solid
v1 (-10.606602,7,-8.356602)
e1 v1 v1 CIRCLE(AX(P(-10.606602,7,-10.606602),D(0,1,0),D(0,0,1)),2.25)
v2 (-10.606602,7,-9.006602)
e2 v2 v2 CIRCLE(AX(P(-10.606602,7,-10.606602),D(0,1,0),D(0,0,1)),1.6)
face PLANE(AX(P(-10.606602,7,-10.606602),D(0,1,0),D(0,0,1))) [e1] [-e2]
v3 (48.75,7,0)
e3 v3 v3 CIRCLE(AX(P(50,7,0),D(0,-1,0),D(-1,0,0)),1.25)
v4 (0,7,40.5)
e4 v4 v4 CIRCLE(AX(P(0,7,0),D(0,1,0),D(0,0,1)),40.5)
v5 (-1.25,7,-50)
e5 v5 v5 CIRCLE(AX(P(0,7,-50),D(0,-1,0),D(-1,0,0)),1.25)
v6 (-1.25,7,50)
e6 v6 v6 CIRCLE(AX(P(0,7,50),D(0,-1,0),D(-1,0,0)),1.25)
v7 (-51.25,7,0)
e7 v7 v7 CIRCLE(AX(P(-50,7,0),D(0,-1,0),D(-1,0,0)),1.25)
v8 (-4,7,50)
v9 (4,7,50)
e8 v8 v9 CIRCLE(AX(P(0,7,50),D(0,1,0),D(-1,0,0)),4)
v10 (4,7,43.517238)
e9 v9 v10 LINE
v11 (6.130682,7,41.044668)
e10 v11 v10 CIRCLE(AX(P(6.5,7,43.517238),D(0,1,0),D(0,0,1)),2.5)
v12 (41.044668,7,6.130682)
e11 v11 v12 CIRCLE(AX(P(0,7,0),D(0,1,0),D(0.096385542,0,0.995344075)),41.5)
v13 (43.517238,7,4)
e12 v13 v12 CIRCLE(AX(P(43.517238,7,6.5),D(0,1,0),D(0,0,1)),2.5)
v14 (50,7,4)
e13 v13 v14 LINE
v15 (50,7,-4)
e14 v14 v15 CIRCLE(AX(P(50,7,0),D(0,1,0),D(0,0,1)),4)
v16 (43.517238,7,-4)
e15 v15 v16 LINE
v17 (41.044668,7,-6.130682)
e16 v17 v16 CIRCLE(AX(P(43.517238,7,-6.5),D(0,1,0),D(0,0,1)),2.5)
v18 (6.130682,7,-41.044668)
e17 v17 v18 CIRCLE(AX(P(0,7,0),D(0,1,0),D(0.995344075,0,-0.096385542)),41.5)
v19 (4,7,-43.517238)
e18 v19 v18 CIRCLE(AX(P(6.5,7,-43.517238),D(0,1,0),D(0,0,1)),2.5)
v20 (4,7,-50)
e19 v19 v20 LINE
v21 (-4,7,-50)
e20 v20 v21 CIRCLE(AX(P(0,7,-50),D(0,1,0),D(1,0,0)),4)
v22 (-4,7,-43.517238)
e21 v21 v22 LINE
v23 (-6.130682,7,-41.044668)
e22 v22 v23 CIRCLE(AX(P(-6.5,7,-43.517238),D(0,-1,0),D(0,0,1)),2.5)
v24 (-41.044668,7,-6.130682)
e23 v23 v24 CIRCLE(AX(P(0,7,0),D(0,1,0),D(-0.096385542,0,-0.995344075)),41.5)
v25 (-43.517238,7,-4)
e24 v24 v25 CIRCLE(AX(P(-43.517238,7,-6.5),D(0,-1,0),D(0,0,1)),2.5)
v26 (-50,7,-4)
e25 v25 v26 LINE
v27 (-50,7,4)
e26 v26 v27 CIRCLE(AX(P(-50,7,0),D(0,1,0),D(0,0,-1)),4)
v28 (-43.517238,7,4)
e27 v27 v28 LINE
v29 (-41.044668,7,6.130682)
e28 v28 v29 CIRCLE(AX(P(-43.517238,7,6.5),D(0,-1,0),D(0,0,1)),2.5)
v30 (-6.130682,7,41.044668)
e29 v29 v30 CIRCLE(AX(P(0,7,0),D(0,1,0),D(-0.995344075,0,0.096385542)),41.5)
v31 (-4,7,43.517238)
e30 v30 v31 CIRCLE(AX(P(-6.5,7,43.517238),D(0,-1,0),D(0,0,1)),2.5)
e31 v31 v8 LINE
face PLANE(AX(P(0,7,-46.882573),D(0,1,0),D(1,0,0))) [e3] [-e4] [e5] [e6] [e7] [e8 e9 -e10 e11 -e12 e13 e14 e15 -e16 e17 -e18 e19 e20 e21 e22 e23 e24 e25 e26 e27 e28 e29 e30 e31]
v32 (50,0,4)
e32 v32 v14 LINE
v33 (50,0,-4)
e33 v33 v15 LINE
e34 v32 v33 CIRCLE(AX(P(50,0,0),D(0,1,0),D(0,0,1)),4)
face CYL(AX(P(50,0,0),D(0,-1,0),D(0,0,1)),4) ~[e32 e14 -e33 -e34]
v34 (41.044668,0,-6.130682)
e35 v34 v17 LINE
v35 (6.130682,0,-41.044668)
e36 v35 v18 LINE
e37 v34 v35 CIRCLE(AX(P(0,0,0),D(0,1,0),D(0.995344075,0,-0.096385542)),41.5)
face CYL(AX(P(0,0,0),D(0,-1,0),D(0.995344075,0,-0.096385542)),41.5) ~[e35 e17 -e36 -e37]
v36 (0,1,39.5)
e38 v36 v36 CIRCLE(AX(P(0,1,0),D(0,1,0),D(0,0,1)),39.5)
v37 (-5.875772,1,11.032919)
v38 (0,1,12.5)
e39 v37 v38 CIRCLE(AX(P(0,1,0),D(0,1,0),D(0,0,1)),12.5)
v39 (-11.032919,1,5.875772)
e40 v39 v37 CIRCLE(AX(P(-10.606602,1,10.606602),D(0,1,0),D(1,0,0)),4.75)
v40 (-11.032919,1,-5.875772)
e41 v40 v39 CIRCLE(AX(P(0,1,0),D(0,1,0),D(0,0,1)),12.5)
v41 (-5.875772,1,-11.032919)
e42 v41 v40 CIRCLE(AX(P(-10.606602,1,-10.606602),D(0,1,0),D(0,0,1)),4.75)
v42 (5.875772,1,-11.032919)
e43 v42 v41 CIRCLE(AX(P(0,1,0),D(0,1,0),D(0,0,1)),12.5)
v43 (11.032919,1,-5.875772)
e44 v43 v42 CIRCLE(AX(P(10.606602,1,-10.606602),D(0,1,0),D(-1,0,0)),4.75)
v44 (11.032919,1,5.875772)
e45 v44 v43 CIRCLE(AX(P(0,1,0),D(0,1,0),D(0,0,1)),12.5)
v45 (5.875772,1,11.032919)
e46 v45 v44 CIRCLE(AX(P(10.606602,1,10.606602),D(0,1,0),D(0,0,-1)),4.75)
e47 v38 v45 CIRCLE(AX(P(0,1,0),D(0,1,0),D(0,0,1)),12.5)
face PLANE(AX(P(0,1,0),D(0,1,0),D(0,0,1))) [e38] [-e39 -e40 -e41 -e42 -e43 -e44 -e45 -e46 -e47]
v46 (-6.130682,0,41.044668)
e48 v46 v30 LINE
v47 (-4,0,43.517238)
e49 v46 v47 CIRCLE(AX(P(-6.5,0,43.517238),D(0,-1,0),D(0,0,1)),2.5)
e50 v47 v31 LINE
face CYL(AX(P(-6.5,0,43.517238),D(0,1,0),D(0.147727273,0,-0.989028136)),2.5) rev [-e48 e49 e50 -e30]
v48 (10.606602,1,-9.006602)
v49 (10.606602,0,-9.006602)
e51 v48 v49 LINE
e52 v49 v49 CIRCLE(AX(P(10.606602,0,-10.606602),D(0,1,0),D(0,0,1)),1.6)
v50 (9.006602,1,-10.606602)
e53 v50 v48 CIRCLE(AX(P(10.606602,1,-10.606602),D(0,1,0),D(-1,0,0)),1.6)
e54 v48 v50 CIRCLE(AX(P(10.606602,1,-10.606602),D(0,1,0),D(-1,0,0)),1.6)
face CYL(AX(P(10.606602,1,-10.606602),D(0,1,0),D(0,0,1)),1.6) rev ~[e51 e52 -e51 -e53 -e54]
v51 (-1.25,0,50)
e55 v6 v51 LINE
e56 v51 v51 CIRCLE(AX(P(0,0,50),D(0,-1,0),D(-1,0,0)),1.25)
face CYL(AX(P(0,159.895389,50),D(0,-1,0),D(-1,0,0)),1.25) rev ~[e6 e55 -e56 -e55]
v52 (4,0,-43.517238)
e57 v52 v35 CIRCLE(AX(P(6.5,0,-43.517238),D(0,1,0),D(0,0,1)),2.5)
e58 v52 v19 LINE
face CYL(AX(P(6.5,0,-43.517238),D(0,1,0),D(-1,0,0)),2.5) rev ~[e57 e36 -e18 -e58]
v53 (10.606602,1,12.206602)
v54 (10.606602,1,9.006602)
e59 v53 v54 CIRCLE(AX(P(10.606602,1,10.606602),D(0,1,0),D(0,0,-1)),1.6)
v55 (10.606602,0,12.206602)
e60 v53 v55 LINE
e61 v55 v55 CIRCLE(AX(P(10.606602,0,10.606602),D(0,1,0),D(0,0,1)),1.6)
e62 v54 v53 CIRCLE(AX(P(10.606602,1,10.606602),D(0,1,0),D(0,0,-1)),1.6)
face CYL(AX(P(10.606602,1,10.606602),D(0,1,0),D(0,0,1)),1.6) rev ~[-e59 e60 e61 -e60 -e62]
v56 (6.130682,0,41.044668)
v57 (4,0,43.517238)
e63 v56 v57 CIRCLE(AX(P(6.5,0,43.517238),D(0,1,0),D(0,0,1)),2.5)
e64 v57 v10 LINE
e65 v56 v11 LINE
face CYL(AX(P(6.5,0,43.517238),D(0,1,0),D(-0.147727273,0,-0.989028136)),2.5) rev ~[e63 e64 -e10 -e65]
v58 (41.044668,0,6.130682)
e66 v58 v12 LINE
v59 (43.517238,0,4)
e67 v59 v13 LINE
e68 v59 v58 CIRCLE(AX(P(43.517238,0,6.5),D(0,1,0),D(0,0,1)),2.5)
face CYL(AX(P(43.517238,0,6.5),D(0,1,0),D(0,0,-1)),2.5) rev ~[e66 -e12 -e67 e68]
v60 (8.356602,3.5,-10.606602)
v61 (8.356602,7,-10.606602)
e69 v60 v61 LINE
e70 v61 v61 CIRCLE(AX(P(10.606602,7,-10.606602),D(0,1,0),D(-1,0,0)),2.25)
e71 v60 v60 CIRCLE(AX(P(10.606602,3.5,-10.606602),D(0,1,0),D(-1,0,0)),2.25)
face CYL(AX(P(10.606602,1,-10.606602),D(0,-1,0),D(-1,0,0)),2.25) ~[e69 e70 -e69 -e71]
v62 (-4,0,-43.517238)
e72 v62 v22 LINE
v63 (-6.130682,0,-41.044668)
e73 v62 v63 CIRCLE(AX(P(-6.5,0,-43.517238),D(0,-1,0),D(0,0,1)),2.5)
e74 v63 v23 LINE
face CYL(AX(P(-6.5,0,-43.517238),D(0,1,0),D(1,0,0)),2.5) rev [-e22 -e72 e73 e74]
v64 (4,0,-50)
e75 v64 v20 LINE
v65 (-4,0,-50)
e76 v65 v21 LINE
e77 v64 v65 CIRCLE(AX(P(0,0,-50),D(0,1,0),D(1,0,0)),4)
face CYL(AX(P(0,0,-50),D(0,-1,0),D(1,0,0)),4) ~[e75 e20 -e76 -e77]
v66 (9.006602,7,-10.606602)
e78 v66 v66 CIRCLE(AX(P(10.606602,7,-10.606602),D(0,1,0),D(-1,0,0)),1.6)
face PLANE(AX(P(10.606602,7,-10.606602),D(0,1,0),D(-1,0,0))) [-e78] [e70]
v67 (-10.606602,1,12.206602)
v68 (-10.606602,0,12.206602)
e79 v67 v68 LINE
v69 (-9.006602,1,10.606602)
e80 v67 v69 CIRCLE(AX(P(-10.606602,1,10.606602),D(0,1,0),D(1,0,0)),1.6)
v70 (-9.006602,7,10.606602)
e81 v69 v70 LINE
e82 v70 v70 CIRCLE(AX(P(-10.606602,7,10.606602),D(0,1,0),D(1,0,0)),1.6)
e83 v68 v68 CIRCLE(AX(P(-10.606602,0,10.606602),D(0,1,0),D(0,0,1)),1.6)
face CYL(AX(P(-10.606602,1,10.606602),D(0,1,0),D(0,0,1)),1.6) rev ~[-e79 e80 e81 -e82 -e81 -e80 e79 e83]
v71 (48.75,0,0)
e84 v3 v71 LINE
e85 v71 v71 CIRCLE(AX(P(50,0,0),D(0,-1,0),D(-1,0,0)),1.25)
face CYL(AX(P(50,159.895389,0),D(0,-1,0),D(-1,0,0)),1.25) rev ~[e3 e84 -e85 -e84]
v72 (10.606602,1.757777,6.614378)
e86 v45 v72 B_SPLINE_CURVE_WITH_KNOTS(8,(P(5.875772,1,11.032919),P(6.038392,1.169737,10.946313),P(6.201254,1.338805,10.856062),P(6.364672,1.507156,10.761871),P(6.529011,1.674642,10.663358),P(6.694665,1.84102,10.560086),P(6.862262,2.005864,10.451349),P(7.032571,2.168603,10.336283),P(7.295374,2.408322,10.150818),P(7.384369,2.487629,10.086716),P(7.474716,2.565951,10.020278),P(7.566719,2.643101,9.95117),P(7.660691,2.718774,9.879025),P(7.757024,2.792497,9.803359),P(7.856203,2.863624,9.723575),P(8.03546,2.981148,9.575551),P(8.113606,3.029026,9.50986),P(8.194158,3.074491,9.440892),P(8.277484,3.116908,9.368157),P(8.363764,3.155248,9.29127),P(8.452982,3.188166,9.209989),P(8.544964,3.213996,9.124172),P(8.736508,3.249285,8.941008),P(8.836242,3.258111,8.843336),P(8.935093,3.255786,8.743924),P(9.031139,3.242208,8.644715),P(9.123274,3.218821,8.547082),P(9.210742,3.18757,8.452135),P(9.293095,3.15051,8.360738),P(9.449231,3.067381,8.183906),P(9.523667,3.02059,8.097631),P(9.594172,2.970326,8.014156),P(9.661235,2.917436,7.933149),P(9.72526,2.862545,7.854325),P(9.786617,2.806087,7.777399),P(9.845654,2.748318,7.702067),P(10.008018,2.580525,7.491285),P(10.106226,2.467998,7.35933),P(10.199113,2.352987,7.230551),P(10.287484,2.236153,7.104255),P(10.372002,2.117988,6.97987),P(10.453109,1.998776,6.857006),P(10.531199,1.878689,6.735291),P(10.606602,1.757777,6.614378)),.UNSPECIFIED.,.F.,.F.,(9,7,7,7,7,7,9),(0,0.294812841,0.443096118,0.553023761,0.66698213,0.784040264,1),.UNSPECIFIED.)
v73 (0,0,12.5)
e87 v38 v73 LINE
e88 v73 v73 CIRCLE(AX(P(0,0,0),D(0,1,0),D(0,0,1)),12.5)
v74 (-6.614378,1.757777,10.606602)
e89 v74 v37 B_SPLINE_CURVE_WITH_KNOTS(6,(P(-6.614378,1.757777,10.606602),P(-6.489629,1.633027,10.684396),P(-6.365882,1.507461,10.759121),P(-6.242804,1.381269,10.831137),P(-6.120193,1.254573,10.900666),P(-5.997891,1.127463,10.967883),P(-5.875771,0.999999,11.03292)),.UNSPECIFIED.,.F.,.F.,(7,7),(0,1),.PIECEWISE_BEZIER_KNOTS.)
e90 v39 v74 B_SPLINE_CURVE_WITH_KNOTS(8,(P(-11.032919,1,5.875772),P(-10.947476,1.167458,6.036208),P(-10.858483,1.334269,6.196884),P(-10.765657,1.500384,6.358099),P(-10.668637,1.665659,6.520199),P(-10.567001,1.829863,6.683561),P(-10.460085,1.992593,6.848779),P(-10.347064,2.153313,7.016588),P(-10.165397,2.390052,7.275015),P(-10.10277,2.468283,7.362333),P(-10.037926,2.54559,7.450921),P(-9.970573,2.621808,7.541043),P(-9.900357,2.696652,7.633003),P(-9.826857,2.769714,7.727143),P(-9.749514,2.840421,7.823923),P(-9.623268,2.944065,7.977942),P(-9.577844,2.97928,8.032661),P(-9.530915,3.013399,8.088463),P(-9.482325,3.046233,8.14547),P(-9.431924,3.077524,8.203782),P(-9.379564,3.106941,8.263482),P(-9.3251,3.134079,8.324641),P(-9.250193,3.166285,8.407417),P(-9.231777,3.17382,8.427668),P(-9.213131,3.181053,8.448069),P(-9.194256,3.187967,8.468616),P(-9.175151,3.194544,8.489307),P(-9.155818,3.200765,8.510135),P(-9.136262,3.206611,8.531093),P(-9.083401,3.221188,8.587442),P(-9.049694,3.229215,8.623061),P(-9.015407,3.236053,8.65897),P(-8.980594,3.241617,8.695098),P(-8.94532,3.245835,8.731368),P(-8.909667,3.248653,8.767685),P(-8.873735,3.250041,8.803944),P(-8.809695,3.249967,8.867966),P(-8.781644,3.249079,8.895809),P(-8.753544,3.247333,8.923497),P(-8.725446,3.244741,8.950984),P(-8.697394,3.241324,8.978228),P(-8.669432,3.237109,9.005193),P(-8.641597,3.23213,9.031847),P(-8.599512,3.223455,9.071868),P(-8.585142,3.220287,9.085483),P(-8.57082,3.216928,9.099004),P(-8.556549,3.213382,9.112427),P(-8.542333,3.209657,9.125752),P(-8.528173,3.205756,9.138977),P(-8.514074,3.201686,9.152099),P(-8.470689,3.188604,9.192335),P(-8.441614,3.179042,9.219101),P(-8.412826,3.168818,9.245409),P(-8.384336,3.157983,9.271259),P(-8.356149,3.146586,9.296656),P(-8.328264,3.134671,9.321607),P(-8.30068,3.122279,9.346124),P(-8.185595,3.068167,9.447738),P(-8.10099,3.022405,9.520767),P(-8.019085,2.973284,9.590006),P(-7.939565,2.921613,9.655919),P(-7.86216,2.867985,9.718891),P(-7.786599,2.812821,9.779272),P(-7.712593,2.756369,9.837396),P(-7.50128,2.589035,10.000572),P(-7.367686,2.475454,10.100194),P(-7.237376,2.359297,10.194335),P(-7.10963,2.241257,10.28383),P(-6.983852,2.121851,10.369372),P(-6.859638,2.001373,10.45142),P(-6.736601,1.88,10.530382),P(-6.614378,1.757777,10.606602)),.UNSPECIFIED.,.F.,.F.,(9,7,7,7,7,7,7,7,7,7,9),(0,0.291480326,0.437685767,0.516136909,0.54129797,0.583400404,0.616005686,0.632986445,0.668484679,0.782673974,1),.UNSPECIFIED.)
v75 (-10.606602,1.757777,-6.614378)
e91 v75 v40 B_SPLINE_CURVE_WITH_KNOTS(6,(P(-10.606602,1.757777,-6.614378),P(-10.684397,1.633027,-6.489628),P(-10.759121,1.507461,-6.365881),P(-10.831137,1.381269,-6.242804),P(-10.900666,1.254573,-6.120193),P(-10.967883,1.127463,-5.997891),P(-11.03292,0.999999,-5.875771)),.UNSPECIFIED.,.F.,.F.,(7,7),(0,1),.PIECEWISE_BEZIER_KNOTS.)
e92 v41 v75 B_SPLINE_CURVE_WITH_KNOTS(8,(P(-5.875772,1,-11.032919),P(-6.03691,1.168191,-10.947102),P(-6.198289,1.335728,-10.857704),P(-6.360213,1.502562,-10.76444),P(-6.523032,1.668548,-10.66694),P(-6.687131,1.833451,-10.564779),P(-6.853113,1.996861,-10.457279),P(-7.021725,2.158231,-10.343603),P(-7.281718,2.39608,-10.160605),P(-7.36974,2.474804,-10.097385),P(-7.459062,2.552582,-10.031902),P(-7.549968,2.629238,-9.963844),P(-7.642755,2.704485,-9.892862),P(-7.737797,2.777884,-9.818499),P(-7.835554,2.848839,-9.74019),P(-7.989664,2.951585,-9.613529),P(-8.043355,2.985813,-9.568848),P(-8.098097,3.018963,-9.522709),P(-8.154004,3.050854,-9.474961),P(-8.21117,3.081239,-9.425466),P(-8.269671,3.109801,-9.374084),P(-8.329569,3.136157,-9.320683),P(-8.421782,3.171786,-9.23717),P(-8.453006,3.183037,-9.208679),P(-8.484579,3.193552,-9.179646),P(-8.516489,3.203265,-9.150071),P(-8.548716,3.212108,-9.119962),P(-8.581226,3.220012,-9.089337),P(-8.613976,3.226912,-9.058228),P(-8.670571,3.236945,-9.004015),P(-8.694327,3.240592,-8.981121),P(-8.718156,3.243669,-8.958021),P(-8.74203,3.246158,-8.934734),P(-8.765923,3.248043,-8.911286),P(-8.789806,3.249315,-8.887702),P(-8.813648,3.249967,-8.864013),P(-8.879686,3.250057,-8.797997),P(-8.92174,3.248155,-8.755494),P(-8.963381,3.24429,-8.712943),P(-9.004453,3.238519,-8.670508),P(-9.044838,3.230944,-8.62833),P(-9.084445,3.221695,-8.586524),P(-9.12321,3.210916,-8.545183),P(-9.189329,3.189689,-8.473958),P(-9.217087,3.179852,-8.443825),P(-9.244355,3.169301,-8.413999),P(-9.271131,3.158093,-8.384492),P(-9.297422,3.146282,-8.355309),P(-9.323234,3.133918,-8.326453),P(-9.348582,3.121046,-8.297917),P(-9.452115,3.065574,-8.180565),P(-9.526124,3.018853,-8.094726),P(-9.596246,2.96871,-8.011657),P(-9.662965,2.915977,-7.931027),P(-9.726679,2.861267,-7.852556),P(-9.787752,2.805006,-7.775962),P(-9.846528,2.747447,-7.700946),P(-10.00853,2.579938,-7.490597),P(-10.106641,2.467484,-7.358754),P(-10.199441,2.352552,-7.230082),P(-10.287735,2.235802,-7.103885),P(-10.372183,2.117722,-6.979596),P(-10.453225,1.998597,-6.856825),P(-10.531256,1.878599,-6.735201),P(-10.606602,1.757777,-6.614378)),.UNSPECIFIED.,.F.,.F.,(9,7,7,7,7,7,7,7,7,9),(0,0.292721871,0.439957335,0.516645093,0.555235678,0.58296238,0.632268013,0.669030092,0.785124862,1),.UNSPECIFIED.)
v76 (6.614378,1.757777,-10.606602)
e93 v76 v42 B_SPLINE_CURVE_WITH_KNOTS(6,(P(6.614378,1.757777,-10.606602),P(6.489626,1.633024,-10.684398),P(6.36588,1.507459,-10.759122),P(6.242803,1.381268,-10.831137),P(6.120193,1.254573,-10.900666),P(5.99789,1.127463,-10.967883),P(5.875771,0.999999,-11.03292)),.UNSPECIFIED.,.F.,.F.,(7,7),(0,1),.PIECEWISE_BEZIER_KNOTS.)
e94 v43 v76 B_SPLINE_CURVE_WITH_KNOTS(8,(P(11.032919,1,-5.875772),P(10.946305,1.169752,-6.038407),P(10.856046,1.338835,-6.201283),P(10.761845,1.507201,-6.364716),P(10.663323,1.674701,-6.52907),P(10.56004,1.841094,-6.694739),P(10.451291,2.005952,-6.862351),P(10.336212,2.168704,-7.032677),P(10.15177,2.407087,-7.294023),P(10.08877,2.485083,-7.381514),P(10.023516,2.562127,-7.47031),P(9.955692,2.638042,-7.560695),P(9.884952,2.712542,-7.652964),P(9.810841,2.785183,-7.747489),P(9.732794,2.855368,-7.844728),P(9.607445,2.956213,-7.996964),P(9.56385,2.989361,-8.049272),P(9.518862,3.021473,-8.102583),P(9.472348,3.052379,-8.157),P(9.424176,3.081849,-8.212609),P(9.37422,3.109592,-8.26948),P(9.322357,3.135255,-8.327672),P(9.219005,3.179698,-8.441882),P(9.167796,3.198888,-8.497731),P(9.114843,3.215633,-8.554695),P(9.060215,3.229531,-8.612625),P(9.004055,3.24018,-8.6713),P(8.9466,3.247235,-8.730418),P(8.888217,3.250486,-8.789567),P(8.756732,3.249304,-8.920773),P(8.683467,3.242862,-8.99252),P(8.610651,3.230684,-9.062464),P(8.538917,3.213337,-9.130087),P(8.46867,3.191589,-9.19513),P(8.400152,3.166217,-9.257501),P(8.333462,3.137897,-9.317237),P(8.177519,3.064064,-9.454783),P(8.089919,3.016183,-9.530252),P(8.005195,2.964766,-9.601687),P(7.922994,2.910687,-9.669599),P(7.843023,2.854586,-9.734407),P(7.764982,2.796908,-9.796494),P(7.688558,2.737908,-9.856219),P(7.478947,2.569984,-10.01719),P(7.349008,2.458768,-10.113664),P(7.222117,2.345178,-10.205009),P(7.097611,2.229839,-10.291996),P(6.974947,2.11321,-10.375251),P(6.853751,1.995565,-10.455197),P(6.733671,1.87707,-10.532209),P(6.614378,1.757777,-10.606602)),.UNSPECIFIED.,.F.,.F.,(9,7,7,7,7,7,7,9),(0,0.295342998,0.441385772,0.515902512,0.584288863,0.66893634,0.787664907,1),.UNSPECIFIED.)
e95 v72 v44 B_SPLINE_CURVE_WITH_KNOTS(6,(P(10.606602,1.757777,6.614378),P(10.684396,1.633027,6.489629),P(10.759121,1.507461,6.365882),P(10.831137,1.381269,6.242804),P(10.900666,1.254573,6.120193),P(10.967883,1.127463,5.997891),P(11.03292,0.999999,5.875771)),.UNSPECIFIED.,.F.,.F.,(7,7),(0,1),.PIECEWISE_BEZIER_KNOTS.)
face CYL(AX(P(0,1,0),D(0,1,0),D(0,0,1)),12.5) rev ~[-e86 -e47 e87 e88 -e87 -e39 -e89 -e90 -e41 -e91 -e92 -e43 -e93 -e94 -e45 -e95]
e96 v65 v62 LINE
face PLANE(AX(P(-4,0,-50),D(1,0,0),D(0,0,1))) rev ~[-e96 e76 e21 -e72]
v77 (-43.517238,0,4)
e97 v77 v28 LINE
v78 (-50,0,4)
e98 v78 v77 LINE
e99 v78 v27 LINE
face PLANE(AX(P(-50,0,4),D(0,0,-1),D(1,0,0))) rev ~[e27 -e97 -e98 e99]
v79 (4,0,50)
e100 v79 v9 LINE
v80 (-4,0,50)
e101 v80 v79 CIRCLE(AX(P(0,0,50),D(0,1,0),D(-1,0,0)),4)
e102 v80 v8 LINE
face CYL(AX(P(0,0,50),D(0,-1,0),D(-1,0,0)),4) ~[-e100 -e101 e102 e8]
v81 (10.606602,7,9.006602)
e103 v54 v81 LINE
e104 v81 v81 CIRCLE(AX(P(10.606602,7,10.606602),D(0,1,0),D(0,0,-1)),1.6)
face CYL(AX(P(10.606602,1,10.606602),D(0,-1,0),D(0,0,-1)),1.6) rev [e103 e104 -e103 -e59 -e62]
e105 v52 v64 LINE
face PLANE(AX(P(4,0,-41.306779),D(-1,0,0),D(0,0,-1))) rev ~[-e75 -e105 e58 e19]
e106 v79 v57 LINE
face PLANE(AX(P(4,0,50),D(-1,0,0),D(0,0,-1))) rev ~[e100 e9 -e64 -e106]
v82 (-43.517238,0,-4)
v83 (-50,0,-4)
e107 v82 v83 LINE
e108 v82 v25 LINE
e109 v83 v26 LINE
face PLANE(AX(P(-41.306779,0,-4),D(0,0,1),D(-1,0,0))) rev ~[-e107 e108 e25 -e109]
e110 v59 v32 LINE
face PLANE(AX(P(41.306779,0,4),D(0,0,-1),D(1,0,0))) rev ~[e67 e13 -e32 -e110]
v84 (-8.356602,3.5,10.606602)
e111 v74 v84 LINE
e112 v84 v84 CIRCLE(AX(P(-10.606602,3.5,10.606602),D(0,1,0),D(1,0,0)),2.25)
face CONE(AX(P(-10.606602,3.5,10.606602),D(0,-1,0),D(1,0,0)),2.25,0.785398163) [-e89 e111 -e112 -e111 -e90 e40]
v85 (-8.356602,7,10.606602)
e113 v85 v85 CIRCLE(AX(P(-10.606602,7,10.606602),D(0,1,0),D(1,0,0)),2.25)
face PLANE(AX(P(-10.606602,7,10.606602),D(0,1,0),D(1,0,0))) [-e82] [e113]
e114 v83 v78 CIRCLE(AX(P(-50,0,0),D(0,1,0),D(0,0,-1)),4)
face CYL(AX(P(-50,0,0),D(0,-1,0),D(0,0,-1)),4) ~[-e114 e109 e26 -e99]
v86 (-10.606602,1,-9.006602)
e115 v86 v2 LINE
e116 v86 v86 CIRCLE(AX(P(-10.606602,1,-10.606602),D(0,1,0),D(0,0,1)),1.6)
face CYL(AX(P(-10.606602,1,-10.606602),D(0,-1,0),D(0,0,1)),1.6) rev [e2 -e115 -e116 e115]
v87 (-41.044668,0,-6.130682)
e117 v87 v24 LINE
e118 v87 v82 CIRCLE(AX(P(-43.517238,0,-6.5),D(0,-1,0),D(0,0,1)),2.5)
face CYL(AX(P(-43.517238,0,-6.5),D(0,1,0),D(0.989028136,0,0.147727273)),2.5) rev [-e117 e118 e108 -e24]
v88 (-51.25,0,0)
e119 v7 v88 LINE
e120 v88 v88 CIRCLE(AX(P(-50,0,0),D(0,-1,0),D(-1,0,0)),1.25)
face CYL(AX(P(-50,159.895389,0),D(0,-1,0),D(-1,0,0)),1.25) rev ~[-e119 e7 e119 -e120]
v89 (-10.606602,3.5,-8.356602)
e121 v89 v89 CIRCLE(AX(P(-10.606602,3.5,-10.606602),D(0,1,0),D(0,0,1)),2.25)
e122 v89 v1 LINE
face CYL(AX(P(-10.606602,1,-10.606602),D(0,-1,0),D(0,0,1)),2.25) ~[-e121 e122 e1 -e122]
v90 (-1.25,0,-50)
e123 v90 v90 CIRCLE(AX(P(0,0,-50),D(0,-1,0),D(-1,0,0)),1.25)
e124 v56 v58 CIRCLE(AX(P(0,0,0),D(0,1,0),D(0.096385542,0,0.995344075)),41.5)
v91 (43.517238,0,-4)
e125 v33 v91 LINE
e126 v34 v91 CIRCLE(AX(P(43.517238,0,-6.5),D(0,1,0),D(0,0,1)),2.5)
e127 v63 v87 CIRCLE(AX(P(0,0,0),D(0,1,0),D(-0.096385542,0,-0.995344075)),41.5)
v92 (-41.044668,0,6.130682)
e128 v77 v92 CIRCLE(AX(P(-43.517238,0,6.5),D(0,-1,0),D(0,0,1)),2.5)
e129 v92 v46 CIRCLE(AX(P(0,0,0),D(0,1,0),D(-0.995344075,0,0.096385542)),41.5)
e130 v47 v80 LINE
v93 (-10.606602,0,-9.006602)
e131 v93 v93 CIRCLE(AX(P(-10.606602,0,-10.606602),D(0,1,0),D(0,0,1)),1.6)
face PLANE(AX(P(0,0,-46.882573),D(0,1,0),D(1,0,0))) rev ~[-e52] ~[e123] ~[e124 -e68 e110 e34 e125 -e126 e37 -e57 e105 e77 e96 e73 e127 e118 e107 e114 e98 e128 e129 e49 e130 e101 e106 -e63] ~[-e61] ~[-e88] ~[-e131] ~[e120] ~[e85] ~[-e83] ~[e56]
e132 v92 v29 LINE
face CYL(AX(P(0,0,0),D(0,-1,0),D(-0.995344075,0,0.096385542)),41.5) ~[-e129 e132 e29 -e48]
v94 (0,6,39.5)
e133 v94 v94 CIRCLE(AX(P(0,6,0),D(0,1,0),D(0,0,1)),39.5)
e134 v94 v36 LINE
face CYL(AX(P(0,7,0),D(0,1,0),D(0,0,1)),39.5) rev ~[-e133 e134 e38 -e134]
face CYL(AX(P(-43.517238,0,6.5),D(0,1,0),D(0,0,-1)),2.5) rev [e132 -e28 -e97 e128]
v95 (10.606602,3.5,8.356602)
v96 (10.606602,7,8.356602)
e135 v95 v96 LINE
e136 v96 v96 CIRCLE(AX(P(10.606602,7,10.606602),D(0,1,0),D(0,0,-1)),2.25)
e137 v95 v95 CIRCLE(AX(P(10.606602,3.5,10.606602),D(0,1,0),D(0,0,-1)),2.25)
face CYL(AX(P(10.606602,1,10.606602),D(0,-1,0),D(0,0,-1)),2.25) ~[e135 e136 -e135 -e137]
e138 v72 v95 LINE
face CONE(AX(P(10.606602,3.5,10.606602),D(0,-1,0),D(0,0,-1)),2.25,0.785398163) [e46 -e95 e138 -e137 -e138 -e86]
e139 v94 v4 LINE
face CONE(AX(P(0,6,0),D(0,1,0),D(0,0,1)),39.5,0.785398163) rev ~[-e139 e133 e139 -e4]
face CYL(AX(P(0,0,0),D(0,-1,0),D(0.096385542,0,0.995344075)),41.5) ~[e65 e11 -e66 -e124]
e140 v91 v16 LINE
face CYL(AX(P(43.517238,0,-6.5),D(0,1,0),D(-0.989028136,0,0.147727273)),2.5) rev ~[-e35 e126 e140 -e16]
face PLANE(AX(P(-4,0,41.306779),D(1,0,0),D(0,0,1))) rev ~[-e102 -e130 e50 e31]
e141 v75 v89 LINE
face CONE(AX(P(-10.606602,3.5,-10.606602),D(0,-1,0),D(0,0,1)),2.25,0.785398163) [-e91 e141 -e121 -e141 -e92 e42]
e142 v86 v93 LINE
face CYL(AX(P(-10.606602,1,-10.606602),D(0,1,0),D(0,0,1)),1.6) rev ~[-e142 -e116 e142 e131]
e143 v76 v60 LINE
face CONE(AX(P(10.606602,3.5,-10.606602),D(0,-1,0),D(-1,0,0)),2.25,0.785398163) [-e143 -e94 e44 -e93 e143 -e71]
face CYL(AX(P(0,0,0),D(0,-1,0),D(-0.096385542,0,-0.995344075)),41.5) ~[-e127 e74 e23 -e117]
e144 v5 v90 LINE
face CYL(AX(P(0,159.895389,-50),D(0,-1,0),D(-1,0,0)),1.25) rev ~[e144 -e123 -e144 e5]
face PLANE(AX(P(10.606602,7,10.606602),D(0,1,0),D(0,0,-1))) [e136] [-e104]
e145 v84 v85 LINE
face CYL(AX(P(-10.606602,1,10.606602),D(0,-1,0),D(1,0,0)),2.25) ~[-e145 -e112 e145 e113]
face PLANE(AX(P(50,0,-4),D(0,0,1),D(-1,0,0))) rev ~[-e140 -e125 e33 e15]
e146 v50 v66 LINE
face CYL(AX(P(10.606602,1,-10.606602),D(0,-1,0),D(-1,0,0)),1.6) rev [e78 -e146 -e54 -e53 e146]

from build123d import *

# Parameters (mm, degrees)
SKETCH1_W                    = 8
SKETCH1_H                    = 8
BOSS_EXTRUDE1_DEPTH          = 7
SKETCH3_R                    = 39.5
CUT_EXTRUDE1_DEPTH           = 6
SKETCH5_R                    = 2.25
SKETCH5_R_2                  = 1.6
BOSS_EXTRUDE2_DEPTH          = 6
CHAMFER1_SIZE                = 2.5
CIRPATTERN1_COUNT            = 4
CHAMFER1_OF_CIRPATTERN1_SIZE = 2.5
SKETCH4_R                    = 12.5
CUT_EXTRUDE2_DEPTH           = 77.602872009
CUT_EXTRUDE2_DEPTH_BACK      = 77.602872009
M3X0_5_TAPPED_HOLE1_D        = 2.5
CHAMFER2_SIZE                = 1
FILLET1_R                    = 2.5
SKETCH8_R                    = 1.6
CUT_EXTRUDE3_DEPTH           = 77.602872009


with BuildPart() as part:
    # Sketch1 → Boss-Extrude1 (new body)
    with BuildSketch(Plane(origin=(0, 0, 0), x_dir=(1, 0, 0), z_dir=(0, 1, 0))):
        with BuildLine():
            Line((4, 41.306779105), (4, 50))
            ThreePointArc((4, 50), (0, 54), (-4, 50))
            Line((-4, 50), (-4, 41.306779105))
            ThreePointArc((-4, 41.306779105), (0, 41.5), (4, 41.306779105))
        make_face()
        with BuildLine():
            Line((50, 4), (41.306779105, 4))
            ThreePointArc((41.306779105, 4), (41.45166663, 2.002332035), (41.5, 0))
            ThreePointArc((41.5, 0), (41.45166663, -2.002332035), (41.306779105, -4))
            Line((41.306779105, -4), (50, -4))
            ThreePointArc((50, -4), (54, 0), (50, 4))
        make_face()
        with BuildLine():
            ThreePointArc((-41.306779105, -4), (-41.5, 0), (-41.306779105, 4))
            Line((-41.306779105, 4), (-50, 4))
            ThreePointArc((-50, 4), (-54, 0), (-50, -4))
            Line((-50, -4), (-41.306779105, -4))
        make_face()
        with BuildLine():
            Line((4, -50), (4, -41.306779105))
            ThreePointArc((4, -41.306779105), (0, -41.5), (-4, -41.306779105))
            Line((-4, -41.306779105), (-4, -50))
            ThreePointArc((-4, -50), (0, -54), (4, -50))
        make_face()
        with BuildLine():
            Line((41.306779105, -4), (4, -4))
            Line((4, -4), (4, -41.306779105))
            ThreePointArc((4, -41.306779105), (29.344931419, -29.344931419), (41.306779105, -4))
        make_face()
        with BuildLine():
            ThreePointArc((41.306779105, 4), (29.344931419, 29.344931419), (4, 41.306779105))
            Line((4, 41.306779105), (4, 4))
            Line((4, 4), (41.306779105, 4))
        make_face()
        with BuildLine():
            Line((-4, 4), (-4, 41.306779105))
            ThreePointArc((-4, 41.306779105), (-29.344931419, 29.344931419), (-41.306779105, 4))
            Line((-41.306779105, 4), (-4, 4))
        make_face()
        with BuildLine():
            Line((-4, -41.306779105), (-4, -4))
            Line((-4, -4), (-41.306779105, -4))
            ThreePointArc((-41.306779105, -4), (-29.344931419, -29.344931419), (-4, -41.306779105))
        make_face()
        with BuildLine():
            Line((41.306779105, 4), (4, 4))
            Line((4, 4), (4, -4))
            Line((4, -4), (41.306779105, -4))
            ThreePointArc((41.306779105, -4), (41.45166663, -2.002332035), (41.5, 0))
            ThreePointArc((41.5, 0), (41.45166663, 2.002332035), (41.306779105, 4))
        make_face()
        with BuildLine():
            Line((4, 4), (4, 41.306779105))
            ThreePointArc((4, 41.306779105), (0, 41.5), (-4, 41.306779105))
            Line((-4, 41.306779105), (-4, 4))
            Line((-4, 4), (4, 4))
        make_face()
        with BuildLine():
            Line((-4, -4), (-4, 4))
            Line((-4, 4), (-41.306779105, 4))
            ThreePointArc((-41.306779105, 4), (-41.5, 0), (-41.306779105, -4))
            Line((-41.306779105, -4), (-4, -4))
        make_face()
        with BuildLine():
            Line((4, -41.306779105), (4, -4))
            Line((4, -4), (-4, -4))
            Line((-4, -4), (-4, -41.306779105))
            ThreePointArc((-4, -41.306779105), (0, -41.5), (4, -41.306779105))
        make_face()
        Rectangle(SKETCH1_W, SKETCH1_H)
    extrude(amount=BOSS_EXTRUDE1_DEPTH)

    # Sketch3 → Cut-Extrude1 (cut)
    with BuildSketch(Plane(origin=(0, 7, 0), x_dir=(1, 0, 0), z_dir=(0, 1, 0))):
        with Locations(Location((0, 0, 0), (0, 0, 270))):
            Circle(SKETCH3_R)
    extrude(amount=-CUT_EXTRUDE1_DEPTH, mode=Mode.SUBTRACT)

    # Sketch5 → Boss-Extrude2 (add)
    with BuildSketch(Plane(origin=(0, 1, 0), x_dir=(1, 0, 0), z_dir=(0, 1, 0))):
        with Locations(Location((-10.606601718, 10.606601718, 0), (0, 0, 270))):
            Circle(SKETCH5_R)
        with Locations(Location((-10.606601718, 10.606601718, 0), (0, 0, 270))):
            Circle(SKETCH5_R_2, mode=Mode.SUBTRACT)
    boss_extrude2 = extrude(amount=BOSS_EXTRUDE2_DEPTH)

    # Chamfer1
    chamfer1_edges = [part.edges().sort_by_distance(p)[0] for p in [
        (-10.606601718, 1, -12.856601718),
    ]]
    chamfer(chamfer1_edges, length=CHAMFER1_SIZE)

    # CirPattern1: Boss-Extrude2 ×4 about axis
    cirpattern1_axis = Axis((0, 0, 0), (0, 1, 0))
    for i in range(1, CIRPATTERN1_COUNT):
        add(boss_extrude2.rotate(cirpattern1_axis, i * 360 / CIRPATTERN1_COUNT))

    # Chamfer1 of CirPattern1
    chamfer1_of_cirpattern1_edges = [part.edges().sort_by_distance(p)[0] for p in [
        (-12.856601718, 1, 10.606601718),
        (10.606601718, 1, 12.856601718),
        (12.856601718, 1, -10.606601718),
    ]]
    chamfer(chamfer1_of_cirpattern1_edges, length=CHAMFER1_OF_CIRPATTERN1_SIZE)

    # Sketch4 → Cut-Extrude2 (cut, two sides)
    with BuildSketch(Plane(origin=(0, 1, 0), x_dir=(1, 0, 0), z_dir=(0, 1, 0))) as cut_extrude2_sk:
        with Locations(Location((0, 0, 0), (0, 0, 270))):
            Circle(SKETCH4_R)
    extrude(amount=CUT_EXTRUDE2_DEPTH, mode=Mode.SUBTRACT)
    extrude(cut_extrude2_sk.sketch, amount=-CUT_EXTRUDE2_DEPTH_BACK, mode=Mode.SUBTRACT)

    # M3x0.5 Tapped Hole1 (through all)
    with Locations(Plane(origin=(0, 7, 0), x_dir=(1, 0, 0), z_dir=(0, 1, 0))):
        with Locations((0, 50), (50, 0), (-50, 0), (0, -50)):
            Hole(M3X0_5_TAPPED_HOLE1_D / 2)

    # Chamfer2
    chamfer2_edges = [part.edges().sort_by_distance(p)[0] for p in [
        (0, 7, -39.5),
    ]]
    chamfer(chamfer2_edges, length=CHAMFER2_SIZE)

    # Fillet1
    fillet1_edges = [part.edges().sort_by_distance(p)[0] for p in [
        (4, 3.5, 41.306779105),
        (-4, 3.5, 41.306779105),
        (-41.306779105, 3.5, 4),
        (-41.306779105, 3.5, -4),
        (-4, 3.5, -41.306779105),
        (4, 3.5, -41.306779105),
        (41.306779105, 3.5, -4),
        (41.306779105, 3.5, 4),
    ]]
    fillet(fillet1_edges, radius=FILLET1_R)

    # Sketch8 → Cut-Extrude3 (cut, through all)
    with BuildSketch(Plane(origin=(0, 1, 0), x_dir=(1, 0, 0), z_dir=(0, 1, 0))):
        with Locations(Location((10.606601718, 10.606601718, 0), (0, 0, 270))):
            Circle(SKETCH8_R)
        with Locations(Location((-10.606601718, 10.606601718, 0), (0, 0, 270))):
            Circle(SKETCH8_R)
        with Locations(Location((-10.606601718, -10.606601718, 0), (0, 0, 270))):
            Circle(SKETCH8_R)
        with Locations(Location((10.606601718, -10.606601718, 0), (0, 0, 270))):
            Circle(SKETCH8_R)
    extrude(amount=-CUT_EXTRUDE3_DEPTH, mode=Mode.SUBTRACT)


solid = part.part
